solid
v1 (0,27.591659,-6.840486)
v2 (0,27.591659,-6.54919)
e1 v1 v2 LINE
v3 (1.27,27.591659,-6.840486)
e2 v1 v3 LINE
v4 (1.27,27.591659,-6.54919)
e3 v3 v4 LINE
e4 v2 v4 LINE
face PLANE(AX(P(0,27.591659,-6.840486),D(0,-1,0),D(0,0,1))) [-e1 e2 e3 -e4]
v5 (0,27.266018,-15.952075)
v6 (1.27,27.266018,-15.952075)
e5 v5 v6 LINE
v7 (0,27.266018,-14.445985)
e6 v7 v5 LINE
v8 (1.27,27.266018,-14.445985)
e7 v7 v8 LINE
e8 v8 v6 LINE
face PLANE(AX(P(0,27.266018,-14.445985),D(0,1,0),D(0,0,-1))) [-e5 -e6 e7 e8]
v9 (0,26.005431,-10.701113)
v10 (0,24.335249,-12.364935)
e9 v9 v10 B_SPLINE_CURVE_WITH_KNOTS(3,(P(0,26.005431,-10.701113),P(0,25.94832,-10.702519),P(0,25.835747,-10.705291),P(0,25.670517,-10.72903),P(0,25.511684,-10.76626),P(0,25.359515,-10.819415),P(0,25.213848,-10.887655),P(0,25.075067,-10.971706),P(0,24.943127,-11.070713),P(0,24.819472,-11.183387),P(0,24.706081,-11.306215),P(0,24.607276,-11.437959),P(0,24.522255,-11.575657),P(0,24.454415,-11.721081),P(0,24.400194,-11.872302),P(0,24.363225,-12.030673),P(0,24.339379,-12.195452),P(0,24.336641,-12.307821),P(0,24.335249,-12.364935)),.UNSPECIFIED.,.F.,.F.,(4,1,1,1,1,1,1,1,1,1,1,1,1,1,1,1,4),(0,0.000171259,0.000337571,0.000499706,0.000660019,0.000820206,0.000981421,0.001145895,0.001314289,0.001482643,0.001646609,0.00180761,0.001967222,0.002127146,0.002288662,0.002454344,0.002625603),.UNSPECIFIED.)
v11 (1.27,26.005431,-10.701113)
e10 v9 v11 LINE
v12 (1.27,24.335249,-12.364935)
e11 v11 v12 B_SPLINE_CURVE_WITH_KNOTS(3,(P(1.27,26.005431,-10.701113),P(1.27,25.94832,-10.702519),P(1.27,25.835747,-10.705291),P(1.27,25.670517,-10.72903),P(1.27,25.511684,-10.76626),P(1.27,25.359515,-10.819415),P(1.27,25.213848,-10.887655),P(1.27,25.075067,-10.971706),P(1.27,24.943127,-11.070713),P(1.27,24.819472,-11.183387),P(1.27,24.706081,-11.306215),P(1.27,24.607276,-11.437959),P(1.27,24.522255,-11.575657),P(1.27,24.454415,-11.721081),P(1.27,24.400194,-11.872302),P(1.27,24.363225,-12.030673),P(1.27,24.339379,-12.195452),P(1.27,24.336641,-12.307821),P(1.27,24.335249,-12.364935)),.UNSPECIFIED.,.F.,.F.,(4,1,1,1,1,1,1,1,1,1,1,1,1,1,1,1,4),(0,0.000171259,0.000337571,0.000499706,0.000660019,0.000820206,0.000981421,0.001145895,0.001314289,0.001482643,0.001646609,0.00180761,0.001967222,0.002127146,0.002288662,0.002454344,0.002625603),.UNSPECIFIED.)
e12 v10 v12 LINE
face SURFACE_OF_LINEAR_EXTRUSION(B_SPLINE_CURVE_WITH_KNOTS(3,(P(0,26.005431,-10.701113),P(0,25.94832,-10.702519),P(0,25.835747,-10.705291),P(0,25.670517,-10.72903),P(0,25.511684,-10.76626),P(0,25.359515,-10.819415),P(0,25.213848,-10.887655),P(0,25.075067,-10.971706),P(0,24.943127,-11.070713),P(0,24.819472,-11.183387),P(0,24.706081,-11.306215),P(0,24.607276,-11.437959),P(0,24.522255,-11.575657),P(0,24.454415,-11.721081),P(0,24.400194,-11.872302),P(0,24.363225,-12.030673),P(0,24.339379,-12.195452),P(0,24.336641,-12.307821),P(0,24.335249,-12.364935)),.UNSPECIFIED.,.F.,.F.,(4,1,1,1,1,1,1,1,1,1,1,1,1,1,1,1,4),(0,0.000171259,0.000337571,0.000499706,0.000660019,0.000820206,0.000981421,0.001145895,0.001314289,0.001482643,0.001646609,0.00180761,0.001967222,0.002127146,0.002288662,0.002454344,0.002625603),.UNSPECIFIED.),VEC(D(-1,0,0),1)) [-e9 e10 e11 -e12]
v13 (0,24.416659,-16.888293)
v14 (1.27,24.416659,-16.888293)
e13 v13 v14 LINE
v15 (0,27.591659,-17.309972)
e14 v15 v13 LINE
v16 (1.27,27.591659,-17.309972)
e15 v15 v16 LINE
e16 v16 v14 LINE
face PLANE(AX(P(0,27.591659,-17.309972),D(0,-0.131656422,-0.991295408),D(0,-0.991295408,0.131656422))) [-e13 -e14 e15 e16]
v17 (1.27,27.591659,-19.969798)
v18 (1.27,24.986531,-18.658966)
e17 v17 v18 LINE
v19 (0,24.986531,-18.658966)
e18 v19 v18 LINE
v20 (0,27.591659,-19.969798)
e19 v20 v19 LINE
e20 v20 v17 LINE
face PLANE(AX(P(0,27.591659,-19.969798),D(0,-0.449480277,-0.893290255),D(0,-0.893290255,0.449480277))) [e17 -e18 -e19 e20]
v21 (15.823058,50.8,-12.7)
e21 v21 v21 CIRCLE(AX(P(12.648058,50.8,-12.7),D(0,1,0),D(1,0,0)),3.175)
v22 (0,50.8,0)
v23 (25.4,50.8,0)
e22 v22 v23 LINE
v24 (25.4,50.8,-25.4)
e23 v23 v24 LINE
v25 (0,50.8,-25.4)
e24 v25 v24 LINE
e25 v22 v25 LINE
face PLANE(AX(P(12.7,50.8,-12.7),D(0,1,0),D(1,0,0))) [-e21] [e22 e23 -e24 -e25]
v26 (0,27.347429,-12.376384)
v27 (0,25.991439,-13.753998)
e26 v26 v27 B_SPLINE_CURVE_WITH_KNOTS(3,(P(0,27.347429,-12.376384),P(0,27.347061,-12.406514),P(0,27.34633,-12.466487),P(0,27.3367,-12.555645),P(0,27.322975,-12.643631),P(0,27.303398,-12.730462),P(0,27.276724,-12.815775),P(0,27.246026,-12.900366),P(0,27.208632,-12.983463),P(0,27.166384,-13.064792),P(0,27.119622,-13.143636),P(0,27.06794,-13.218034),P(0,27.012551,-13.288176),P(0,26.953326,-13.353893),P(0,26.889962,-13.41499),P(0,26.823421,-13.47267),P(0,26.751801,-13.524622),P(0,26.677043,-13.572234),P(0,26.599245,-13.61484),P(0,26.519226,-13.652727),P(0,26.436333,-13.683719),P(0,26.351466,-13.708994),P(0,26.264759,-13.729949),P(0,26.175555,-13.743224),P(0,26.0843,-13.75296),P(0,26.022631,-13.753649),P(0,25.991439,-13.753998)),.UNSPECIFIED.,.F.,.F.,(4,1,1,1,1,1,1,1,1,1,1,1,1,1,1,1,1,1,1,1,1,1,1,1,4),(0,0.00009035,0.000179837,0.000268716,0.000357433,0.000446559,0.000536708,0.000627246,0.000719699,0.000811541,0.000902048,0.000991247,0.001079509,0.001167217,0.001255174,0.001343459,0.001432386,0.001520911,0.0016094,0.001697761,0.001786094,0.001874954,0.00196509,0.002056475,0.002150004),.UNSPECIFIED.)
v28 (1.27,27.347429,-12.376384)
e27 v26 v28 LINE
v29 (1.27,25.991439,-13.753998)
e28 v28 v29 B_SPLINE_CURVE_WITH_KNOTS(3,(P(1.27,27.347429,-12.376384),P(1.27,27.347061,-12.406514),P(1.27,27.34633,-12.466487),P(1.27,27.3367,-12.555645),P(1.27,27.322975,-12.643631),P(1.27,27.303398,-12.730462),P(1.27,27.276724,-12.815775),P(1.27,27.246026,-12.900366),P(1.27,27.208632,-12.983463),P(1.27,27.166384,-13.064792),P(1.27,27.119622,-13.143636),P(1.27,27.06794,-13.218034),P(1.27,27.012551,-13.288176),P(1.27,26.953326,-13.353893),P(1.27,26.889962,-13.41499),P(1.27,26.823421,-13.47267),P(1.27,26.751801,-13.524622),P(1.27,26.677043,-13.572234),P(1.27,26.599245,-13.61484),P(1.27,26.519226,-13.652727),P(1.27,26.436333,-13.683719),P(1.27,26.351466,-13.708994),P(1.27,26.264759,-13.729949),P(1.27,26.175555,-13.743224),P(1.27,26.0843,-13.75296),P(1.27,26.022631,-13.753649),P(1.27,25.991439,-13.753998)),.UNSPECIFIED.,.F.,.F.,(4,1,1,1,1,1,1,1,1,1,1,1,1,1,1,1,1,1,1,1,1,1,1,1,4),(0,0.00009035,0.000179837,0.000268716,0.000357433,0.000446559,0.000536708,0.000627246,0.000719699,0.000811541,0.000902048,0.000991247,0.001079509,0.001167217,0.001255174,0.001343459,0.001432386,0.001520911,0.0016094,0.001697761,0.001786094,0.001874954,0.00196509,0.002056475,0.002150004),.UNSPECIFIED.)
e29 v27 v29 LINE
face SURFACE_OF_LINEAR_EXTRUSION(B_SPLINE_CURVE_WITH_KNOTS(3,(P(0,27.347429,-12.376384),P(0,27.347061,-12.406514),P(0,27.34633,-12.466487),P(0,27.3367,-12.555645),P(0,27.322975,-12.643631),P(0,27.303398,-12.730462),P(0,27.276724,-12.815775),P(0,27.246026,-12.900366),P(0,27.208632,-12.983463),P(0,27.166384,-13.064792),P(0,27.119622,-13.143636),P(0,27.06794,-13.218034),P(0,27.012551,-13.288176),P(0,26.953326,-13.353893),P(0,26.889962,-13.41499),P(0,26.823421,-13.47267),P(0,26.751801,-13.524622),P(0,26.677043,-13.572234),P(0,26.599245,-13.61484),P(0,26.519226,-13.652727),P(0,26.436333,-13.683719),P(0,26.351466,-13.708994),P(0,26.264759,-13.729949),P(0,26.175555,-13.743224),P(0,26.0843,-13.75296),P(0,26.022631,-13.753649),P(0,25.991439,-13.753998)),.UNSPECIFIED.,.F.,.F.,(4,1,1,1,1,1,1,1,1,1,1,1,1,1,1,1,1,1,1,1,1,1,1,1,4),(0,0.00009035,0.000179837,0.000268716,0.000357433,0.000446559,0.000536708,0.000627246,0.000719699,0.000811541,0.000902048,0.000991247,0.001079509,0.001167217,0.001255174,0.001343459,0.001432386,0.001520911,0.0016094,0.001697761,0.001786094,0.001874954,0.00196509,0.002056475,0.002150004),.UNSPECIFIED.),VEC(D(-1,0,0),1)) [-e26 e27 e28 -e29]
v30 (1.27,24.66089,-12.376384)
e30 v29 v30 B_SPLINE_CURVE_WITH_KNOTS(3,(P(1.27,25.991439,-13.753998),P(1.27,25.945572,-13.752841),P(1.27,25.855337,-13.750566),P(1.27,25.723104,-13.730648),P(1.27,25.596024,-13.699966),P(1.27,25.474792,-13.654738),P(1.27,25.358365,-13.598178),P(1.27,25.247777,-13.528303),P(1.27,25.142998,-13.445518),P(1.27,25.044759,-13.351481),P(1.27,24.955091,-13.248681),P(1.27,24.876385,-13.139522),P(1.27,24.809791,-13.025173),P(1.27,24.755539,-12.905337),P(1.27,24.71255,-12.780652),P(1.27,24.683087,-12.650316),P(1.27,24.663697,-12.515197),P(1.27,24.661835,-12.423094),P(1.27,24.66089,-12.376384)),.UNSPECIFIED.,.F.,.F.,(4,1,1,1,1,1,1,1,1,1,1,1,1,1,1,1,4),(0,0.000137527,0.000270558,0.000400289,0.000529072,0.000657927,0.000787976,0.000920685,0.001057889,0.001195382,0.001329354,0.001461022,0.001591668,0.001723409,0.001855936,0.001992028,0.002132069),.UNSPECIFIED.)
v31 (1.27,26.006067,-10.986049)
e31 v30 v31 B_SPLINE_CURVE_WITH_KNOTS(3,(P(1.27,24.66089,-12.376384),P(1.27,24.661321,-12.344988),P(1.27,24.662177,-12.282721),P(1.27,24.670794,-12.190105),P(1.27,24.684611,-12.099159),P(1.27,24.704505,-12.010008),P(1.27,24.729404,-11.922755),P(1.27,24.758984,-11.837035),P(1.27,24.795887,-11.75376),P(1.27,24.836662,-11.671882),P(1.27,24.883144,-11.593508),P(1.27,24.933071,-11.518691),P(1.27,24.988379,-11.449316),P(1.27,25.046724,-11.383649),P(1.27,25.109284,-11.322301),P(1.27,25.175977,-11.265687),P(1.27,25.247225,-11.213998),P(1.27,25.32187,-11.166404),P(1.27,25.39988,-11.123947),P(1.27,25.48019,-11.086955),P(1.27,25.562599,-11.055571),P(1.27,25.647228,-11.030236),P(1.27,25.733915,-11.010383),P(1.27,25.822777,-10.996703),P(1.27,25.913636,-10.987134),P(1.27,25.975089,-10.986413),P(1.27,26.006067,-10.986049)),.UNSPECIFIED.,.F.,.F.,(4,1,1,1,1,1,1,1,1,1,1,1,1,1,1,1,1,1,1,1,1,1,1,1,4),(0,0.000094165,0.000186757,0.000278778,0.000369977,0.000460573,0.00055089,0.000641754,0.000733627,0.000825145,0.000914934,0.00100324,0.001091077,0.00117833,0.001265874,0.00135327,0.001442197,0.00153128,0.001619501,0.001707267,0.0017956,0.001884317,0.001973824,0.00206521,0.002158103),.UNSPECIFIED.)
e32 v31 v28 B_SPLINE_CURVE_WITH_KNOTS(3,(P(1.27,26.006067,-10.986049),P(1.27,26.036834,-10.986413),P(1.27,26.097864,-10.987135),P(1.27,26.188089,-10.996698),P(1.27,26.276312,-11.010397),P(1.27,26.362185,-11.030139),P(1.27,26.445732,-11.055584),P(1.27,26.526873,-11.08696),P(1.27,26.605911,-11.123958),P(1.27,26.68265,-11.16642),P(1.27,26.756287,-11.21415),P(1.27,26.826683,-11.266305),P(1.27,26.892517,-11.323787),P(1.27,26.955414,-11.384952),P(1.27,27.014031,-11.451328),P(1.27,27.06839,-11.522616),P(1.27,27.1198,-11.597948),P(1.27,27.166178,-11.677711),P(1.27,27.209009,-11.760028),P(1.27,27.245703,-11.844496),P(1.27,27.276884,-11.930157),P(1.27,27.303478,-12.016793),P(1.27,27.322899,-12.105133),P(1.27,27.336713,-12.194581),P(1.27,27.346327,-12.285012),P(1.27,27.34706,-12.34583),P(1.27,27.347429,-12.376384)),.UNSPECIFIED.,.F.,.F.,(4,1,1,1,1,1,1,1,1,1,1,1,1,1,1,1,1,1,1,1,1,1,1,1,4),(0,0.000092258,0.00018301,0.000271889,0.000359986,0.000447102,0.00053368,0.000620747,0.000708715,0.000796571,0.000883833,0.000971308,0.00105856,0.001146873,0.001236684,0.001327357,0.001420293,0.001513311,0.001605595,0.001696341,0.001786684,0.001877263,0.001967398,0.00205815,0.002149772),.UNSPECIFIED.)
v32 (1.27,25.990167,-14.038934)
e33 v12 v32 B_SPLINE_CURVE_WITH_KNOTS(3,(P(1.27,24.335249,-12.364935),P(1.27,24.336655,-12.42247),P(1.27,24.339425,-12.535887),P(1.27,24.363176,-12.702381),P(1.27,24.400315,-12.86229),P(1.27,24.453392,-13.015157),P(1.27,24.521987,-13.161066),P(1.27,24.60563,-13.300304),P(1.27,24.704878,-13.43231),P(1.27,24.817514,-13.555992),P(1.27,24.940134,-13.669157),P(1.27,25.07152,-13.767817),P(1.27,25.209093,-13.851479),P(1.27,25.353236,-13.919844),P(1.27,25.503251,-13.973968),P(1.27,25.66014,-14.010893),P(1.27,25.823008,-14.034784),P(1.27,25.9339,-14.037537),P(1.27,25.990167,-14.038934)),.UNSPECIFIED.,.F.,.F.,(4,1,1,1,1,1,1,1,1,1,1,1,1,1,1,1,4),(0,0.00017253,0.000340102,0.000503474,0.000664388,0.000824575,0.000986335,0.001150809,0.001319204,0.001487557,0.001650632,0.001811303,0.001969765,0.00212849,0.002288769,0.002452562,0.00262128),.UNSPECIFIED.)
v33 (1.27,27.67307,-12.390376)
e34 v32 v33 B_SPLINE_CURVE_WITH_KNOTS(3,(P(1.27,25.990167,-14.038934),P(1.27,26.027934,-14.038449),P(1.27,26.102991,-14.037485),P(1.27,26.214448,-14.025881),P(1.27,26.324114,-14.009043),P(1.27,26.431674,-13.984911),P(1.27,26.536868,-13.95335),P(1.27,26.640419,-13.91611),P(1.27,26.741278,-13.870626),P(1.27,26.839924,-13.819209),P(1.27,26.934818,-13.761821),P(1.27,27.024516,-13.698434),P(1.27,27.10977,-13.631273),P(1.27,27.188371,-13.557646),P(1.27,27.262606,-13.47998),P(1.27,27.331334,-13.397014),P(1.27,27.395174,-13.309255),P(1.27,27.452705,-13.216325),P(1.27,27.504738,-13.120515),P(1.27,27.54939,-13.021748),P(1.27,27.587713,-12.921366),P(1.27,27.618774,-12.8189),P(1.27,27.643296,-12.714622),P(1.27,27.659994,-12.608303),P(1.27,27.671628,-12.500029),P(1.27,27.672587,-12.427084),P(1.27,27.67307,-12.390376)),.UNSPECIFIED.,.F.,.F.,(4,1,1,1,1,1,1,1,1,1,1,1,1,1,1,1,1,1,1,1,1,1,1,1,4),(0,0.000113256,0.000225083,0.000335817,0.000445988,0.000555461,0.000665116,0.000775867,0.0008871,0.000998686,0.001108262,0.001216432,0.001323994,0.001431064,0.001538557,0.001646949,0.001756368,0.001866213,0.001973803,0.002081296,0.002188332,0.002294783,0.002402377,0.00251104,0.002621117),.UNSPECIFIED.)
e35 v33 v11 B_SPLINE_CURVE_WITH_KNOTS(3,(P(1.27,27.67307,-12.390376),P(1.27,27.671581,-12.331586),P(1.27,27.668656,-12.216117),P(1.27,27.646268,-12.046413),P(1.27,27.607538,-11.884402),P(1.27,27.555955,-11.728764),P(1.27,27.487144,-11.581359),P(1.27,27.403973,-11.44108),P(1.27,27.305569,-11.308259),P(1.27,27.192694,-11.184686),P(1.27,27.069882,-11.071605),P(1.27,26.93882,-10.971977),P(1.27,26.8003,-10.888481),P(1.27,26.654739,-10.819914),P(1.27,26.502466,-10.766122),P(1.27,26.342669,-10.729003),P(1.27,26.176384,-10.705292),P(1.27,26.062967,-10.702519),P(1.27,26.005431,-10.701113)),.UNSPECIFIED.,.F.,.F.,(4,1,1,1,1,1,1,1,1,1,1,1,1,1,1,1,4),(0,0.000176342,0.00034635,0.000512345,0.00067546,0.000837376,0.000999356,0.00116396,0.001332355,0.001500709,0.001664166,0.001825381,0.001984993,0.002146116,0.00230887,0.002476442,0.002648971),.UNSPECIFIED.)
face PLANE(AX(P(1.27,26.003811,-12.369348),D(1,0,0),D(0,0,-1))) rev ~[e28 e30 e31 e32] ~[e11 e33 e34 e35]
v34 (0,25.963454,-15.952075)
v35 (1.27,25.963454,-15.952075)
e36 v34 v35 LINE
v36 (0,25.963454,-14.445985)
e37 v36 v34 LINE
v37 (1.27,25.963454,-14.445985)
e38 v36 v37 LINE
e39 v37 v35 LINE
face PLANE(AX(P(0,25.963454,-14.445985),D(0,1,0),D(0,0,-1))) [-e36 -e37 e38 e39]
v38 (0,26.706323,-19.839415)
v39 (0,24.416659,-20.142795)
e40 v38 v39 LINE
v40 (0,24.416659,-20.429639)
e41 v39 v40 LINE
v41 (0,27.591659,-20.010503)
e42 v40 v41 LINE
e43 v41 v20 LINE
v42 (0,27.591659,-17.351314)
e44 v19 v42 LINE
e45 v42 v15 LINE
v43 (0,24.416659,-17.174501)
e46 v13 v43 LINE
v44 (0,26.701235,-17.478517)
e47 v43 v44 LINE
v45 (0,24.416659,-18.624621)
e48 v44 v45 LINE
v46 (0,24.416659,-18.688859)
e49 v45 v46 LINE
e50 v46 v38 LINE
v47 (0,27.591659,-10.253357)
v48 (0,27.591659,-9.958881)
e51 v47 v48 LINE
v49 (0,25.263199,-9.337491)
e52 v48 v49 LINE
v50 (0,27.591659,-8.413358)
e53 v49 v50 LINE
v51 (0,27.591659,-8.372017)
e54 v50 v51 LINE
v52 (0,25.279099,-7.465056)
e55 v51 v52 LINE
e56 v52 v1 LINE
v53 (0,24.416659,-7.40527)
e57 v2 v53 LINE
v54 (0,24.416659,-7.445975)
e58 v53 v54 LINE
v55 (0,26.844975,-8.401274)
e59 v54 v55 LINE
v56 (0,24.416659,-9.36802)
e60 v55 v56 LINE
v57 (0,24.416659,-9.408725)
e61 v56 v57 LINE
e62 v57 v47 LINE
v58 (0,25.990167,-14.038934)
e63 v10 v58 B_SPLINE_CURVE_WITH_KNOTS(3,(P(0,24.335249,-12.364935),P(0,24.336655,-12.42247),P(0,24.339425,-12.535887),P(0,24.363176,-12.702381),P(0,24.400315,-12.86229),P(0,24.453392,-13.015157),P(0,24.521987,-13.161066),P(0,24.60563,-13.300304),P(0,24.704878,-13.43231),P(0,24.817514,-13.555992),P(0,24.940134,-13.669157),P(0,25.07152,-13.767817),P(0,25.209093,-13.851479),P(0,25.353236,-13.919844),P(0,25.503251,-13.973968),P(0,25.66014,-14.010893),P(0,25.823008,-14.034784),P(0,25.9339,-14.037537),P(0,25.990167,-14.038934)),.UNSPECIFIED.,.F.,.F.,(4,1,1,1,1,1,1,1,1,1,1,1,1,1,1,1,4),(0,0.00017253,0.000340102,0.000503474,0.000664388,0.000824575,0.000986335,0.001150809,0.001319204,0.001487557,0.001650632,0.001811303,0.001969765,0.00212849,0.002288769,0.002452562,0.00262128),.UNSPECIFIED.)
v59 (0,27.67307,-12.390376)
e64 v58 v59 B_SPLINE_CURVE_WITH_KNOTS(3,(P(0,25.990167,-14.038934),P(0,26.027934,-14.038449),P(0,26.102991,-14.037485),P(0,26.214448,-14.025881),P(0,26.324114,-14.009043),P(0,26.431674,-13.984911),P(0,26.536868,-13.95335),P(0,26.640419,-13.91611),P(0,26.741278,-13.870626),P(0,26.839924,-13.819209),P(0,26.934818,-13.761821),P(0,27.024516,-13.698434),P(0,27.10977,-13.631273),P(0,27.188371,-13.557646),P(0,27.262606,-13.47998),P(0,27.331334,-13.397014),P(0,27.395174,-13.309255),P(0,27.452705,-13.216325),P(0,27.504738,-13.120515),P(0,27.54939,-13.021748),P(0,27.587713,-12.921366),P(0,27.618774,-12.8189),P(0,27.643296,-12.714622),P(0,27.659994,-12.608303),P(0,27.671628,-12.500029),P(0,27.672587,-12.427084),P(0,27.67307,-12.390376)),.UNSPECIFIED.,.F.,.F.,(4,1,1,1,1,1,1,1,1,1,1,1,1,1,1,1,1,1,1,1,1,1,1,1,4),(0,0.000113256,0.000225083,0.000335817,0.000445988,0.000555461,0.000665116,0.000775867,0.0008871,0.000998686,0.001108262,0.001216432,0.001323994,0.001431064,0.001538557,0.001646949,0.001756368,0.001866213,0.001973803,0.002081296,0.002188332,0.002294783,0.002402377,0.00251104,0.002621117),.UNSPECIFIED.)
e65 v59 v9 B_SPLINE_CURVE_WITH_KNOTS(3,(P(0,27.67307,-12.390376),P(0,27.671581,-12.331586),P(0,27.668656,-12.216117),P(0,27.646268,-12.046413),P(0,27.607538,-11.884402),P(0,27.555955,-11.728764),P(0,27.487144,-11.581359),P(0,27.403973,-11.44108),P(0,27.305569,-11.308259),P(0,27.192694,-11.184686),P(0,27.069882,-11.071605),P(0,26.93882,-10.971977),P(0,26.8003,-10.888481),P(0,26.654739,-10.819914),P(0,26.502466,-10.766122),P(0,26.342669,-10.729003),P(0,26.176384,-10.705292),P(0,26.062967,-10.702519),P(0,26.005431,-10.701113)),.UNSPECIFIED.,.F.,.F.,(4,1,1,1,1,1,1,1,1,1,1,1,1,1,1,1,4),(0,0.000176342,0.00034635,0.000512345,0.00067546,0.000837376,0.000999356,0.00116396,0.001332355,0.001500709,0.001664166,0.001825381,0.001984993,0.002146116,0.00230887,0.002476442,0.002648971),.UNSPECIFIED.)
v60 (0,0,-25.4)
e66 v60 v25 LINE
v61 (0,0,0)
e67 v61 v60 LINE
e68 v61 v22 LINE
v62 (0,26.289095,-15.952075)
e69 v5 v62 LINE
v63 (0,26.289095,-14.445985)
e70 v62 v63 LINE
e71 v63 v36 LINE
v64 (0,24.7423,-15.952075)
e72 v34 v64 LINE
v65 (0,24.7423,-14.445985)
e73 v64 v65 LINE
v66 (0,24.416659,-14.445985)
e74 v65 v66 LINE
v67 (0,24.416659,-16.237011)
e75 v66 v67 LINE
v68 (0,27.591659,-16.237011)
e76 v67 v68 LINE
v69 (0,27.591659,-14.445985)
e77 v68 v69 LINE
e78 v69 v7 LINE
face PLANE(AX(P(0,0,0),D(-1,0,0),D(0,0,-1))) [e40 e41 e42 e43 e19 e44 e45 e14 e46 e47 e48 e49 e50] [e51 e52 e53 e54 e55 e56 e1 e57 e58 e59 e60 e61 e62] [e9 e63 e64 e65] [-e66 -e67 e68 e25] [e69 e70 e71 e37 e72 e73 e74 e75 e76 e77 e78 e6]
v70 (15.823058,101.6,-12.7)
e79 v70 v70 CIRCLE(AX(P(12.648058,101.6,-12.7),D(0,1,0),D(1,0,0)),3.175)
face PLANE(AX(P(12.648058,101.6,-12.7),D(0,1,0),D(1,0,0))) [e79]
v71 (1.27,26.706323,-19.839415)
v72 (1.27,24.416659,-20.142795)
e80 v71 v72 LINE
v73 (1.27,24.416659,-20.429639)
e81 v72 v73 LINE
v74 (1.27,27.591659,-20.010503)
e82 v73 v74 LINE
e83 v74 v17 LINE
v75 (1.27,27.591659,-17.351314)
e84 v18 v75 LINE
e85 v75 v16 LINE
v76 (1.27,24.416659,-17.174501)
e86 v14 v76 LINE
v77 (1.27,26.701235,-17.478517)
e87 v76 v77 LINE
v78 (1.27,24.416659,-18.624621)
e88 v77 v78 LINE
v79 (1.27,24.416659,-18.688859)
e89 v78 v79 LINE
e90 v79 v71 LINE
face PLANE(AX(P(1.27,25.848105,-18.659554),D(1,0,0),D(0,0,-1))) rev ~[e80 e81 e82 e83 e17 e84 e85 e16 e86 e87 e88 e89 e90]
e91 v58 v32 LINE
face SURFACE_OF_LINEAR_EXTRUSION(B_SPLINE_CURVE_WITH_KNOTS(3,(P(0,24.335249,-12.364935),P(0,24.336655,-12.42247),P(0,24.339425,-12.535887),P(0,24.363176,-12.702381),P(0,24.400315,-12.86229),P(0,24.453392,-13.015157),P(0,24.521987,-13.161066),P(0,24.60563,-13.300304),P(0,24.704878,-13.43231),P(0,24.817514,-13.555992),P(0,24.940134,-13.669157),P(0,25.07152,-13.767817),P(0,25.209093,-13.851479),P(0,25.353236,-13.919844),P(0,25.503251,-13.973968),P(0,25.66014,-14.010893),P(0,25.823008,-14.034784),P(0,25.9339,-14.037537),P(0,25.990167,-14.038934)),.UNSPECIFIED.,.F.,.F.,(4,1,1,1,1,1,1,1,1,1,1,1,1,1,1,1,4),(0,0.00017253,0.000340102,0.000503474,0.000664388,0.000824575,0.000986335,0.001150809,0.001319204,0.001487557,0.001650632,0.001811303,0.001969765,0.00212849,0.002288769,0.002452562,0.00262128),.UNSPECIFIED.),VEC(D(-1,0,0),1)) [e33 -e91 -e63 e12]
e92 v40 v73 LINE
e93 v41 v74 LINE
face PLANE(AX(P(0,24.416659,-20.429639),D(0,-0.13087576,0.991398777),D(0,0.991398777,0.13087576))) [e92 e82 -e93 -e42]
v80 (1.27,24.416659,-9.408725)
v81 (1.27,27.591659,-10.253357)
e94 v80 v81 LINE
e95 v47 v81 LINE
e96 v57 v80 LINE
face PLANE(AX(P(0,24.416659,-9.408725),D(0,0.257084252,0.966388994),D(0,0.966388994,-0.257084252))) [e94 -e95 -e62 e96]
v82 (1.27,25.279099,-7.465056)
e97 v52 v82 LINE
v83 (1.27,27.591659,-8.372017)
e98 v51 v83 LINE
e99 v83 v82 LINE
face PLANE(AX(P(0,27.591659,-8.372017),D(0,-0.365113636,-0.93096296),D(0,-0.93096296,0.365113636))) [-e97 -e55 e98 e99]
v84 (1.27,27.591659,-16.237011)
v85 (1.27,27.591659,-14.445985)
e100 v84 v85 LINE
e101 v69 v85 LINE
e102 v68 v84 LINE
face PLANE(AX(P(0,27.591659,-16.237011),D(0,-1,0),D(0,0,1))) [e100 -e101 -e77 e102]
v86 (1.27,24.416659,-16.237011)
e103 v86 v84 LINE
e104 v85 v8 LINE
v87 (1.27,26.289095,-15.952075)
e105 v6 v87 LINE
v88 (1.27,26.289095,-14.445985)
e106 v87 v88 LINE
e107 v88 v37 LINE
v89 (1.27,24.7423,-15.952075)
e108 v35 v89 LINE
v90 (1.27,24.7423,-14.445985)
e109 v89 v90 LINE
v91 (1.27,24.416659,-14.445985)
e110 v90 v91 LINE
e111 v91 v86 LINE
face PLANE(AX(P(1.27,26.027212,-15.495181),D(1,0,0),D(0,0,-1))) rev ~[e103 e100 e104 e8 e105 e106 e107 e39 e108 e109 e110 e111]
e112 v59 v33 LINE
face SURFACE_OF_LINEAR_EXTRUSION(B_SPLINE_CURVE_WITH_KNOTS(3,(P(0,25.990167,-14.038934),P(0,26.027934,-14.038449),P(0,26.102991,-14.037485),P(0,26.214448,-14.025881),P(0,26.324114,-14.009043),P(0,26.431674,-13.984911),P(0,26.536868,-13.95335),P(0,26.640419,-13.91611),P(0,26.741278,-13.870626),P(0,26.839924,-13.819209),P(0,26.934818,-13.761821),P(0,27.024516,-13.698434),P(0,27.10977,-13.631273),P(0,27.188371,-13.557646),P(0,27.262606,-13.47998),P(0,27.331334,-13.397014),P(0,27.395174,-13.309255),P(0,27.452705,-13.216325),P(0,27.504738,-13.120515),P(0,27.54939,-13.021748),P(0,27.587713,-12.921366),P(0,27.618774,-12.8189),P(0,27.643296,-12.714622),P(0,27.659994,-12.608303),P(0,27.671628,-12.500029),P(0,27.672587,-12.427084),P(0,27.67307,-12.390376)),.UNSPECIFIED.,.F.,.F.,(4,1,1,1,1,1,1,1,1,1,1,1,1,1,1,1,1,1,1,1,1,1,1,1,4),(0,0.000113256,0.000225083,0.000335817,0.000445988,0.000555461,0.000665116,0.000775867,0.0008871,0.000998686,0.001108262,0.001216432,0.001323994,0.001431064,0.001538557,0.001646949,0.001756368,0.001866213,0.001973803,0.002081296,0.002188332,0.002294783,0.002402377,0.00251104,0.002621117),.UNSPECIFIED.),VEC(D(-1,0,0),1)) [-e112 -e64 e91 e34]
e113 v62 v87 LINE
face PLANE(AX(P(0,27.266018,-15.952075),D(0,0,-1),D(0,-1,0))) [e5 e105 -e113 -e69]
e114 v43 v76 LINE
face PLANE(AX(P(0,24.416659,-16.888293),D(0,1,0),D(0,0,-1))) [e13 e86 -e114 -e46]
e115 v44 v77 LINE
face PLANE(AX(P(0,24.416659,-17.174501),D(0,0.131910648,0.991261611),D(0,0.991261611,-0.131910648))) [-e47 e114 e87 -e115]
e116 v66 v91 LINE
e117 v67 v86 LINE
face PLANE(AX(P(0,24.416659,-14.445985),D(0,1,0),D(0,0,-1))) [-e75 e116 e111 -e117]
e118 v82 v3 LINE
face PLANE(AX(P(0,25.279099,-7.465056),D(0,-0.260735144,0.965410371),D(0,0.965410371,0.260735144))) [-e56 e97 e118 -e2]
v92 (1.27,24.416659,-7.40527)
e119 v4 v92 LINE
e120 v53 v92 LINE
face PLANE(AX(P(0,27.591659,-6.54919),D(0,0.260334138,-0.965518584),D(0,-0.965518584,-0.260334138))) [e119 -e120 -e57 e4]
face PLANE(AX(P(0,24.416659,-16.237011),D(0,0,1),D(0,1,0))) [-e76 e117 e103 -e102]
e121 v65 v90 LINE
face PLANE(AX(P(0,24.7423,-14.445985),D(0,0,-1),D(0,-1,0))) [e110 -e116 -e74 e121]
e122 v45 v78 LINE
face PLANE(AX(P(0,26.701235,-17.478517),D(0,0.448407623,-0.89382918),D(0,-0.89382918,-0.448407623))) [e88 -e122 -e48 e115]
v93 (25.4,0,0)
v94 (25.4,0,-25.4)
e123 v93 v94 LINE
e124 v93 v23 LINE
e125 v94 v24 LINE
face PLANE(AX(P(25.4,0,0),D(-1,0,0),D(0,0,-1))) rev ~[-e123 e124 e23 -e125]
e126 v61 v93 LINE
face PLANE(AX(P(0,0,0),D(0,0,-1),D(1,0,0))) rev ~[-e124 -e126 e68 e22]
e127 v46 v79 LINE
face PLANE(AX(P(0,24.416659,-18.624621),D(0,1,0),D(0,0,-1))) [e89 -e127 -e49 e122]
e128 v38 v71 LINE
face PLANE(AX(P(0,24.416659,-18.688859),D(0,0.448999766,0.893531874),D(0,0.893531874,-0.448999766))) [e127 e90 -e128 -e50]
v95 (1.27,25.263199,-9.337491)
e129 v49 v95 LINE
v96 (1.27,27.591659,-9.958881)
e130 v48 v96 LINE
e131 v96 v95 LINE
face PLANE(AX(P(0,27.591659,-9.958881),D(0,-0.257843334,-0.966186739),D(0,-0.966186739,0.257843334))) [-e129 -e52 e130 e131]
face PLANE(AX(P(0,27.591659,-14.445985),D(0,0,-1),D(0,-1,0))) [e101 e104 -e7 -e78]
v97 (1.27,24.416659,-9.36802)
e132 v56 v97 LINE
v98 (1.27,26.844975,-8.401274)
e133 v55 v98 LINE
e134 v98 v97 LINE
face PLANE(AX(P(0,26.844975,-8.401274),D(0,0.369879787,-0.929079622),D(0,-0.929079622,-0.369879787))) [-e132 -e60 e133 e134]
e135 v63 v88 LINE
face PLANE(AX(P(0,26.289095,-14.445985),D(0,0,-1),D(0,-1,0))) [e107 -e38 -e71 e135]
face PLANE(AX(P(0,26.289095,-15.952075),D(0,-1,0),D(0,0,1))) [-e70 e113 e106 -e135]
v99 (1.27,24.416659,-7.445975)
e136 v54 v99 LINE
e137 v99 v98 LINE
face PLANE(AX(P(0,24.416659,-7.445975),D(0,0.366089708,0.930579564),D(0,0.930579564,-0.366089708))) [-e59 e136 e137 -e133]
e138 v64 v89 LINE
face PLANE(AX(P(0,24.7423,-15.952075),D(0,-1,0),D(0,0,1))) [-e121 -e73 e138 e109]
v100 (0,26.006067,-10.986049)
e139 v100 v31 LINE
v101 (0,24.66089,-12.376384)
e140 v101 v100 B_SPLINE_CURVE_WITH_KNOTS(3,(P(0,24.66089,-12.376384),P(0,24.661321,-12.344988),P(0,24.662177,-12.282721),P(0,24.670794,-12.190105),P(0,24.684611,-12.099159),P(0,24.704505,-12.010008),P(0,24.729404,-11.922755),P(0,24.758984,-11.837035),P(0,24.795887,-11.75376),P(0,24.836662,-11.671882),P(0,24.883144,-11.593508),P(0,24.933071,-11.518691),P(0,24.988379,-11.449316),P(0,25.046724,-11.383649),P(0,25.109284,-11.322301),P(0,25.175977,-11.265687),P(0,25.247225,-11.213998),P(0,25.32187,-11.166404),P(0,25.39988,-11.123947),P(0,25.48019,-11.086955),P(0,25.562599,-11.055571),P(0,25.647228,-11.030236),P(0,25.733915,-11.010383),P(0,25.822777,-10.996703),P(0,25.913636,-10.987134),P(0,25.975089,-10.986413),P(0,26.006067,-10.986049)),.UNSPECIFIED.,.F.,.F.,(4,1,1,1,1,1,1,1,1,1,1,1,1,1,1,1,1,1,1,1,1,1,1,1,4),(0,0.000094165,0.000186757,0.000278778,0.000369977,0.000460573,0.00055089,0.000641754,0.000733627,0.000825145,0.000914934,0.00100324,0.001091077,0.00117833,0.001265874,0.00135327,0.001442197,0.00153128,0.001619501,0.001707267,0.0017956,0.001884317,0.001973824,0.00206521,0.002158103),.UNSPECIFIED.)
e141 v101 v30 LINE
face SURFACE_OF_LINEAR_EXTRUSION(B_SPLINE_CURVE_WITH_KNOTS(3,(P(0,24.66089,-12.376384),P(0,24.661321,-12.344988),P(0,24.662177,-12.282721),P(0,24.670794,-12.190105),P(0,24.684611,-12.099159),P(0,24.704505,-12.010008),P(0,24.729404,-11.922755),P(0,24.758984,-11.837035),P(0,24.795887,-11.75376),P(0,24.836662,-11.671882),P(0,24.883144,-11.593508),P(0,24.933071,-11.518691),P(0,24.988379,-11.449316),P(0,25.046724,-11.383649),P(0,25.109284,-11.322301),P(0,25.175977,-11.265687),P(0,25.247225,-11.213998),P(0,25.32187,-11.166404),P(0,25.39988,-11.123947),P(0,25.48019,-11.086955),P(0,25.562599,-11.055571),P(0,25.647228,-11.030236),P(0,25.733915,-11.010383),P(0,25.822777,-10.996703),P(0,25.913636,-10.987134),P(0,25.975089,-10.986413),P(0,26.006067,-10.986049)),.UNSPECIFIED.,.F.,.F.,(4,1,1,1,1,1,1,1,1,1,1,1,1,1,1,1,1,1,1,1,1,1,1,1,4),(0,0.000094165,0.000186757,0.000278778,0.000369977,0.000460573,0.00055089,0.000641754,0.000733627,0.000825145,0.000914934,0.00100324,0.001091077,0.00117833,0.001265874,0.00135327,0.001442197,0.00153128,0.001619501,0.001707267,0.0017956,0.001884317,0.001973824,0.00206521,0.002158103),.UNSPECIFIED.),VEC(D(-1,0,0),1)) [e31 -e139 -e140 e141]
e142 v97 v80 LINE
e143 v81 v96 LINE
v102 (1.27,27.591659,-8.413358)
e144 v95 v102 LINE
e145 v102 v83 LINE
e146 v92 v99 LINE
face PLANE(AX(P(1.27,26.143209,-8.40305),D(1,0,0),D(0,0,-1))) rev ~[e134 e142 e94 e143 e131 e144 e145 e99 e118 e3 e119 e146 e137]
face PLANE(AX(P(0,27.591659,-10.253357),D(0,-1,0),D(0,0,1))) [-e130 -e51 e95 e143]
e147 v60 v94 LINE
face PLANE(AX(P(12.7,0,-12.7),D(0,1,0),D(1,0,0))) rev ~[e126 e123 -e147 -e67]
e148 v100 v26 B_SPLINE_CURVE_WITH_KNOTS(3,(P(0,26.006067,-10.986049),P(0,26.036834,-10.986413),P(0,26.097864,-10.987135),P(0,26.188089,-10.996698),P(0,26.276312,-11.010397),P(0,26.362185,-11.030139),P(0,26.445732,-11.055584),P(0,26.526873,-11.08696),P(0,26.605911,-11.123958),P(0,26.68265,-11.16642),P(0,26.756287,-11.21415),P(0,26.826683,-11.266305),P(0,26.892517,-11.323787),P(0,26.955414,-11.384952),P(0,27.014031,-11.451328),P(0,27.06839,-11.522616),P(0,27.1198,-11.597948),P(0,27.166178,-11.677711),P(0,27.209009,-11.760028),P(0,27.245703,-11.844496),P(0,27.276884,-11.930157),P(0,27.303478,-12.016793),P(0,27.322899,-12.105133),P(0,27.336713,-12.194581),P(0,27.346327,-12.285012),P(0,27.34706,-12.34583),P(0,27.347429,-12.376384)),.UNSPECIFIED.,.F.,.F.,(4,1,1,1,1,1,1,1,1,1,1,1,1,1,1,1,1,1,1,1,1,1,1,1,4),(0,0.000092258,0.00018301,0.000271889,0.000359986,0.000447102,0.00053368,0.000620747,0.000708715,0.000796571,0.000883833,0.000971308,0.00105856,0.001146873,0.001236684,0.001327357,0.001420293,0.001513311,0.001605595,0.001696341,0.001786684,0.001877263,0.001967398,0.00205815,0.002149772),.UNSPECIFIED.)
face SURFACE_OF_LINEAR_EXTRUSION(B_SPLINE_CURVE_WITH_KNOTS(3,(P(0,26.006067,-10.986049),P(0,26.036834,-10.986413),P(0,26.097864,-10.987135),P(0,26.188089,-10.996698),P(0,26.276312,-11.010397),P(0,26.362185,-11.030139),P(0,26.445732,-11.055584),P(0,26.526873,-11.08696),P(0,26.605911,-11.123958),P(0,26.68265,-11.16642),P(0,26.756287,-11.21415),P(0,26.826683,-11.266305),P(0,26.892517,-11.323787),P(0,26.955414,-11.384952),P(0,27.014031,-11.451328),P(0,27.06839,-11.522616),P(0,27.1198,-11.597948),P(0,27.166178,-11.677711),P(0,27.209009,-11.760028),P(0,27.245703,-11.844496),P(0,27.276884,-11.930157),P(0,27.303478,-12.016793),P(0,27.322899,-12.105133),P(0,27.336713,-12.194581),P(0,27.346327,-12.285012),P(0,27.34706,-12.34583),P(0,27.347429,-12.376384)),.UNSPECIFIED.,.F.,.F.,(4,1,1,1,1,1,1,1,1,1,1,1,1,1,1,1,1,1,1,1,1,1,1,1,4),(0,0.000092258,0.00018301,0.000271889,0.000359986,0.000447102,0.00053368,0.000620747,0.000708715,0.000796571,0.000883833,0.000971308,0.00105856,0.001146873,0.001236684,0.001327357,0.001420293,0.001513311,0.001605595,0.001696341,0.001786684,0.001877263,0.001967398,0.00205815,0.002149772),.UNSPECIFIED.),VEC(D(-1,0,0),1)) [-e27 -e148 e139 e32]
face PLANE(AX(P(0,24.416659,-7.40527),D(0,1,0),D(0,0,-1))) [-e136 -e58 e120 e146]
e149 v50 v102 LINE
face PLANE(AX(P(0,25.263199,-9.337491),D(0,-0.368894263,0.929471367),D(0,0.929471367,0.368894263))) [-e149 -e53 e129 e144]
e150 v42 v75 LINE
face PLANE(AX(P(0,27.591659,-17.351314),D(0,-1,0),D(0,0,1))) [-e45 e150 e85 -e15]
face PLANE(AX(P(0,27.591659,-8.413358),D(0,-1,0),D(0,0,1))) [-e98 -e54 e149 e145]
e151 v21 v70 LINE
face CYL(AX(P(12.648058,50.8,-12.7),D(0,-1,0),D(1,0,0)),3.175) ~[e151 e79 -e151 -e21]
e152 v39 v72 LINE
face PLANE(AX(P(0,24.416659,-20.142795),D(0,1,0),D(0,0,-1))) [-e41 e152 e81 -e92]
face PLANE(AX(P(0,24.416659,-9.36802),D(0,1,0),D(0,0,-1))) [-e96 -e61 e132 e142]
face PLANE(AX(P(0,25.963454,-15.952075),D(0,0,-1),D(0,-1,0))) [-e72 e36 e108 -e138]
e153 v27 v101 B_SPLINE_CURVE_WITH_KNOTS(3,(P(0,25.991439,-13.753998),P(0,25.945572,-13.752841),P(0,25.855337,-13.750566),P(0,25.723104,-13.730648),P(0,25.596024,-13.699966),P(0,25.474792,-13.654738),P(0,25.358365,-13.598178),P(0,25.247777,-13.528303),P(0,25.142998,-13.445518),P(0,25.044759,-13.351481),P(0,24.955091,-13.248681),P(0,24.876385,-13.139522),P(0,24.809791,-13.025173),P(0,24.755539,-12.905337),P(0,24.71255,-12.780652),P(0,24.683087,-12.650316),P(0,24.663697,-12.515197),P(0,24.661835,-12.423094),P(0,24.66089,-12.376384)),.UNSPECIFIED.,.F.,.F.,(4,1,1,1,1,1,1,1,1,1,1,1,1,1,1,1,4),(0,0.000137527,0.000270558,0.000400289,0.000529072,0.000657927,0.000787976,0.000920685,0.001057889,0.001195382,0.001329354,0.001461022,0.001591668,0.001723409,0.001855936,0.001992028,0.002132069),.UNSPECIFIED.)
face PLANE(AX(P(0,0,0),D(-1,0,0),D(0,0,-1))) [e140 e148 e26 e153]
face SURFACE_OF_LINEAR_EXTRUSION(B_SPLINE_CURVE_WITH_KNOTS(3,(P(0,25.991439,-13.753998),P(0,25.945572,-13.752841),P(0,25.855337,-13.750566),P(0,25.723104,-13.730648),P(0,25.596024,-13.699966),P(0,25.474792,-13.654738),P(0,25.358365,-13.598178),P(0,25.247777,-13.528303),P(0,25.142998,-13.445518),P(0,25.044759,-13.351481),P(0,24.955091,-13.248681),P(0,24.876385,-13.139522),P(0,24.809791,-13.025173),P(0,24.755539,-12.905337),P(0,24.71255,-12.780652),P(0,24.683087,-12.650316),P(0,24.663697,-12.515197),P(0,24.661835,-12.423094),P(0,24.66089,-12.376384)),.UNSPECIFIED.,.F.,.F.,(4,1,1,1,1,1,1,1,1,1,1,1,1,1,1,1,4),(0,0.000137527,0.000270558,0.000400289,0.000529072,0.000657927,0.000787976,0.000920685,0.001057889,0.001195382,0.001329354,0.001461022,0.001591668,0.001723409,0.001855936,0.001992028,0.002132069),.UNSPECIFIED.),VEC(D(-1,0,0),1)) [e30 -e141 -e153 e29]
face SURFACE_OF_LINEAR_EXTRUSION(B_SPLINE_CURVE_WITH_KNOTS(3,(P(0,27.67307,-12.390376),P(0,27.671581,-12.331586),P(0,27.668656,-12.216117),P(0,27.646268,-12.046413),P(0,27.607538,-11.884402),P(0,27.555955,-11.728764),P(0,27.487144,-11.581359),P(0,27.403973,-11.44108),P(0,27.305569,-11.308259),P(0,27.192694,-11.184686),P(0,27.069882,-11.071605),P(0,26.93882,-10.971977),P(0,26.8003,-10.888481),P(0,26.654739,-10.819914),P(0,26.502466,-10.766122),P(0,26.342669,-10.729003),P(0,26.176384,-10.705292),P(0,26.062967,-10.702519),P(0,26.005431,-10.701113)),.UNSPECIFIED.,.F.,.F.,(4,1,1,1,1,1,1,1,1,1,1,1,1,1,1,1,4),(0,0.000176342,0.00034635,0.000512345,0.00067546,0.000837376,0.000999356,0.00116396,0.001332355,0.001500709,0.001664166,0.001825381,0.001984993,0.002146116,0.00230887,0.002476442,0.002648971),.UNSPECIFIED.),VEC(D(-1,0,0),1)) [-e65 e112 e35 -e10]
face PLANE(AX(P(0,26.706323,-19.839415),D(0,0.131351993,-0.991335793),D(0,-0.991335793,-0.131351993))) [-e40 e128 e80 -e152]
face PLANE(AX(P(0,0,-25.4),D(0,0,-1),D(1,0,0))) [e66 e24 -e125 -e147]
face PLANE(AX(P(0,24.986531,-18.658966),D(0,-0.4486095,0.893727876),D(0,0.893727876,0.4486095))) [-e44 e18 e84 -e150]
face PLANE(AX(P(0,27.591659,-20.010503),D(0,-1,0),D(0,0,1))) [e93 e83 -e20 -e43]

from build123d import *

# Parameters (mm, degrees)
SKETCH1_W           = 25.4
SKETCH1_H           = 25.4
BOSS_EXTRUDE1_DEPTH = 50.8
SKETCH2_R           = 3.175
BOSS_EXTRUDE2_DEPTH = 50.8
CUT_EXTRUDE1_DEPTH  = 1.27


with BuildPart() as part:
    # Sketch1 → Boss-Extrude1 (new body)
    with BuildSketch(Plane(origin=(0, 0, 0), x_dir=(1, 0, 0), z_dir=(0, 1, 0))):
        with Locations((12.7, 12.7)):
            Rectangle(SKETCH1_W, SKETCH1_H)
    extrude(amount=BOSS_EXTRUDE1_DEPTH)

    # Sketch2 → Boss-Extrude2 (add)
    with BuildSketch(Plane(origin=(0, 50.8, 0), x_dir=(1, 0, 0), z_dir=(0, 1, 0))):
        with Locations((12.648058093, 12.7)):
            Circle(SKETCH2_R)
    extrude(amount=BOSS_EXTRUDE2_DEPTH)

    # Sketch3 → Cut-Extrude1 (cut)
    with BuildSketch(Plane.ZY):
        Polygon((-20.429638912, 24.416659376), (-20.010503295, 27.591659376), (-19.969798167, 27.591659376), (-18.658965835, 24.986531171), (-17.351313592, 27.591659376), (-17.309972446, 27.591659376), (-16.888292758, 24.416659376), (-17.174500691, 24.416659376), (-17.478517117, 26.701234697), (-18.624620883, 24.416659376), (-18.688858664, 24.416659376), (-19.839414553, 26.706322838), (-20.142794962, 24.416659376), align=None)
        Polygon((-16.237010707, 27.591659376), (-14.445985066, 27.591659376), (-14.445985066, 27.26601835), (-15.95207481, 27.26601835), (-15.95207481, 26.289095273), (-14.445985066, 26.289095273), (-14.445985066, 25.963454248), (-15.95207481, 25.963454248), (-15.95207481, 24.742300402), (-14.445985066, 24.742300402), (-14.445985066, 24.416659376), (-16.237010707, 24.416659376), align=None)
        with BuildLine():
            add(Edge.make_bspline(
                [(-12.390376092, 27.673069632), (-12.331585881, 27.671580576), (-12.216117058, 27.668655947), (-12.046413401, 27.646268474), (-11.884402136, 27.607537656), (-11.72876351, 27.555954808), (-11.581359167, 27.487144044), (-11.4410796, 27.403972516), (-11.308258579, 27.305568872), (-11.184686325, 27.192693787), (-11.071604663, 27.069881654), (-10.971976895, 26.93881955), (-10.888481386, 26.800299922), (-10.819914279, 26.654739026), (-10.766121969, 26.502466055), (-10.72900255, 26.34266921), (-10.705291514, 26.176383855), (-10.702519488, 26.062966628), (-10.701113271, 26.005431411)],
                knots=[0, 0, 0, 0, 0.000176342, 0.00034635, 0.000512345, 0.00067546, 0.000837376, 0.000999356, 0.00116396, 0.001332355, 0.001500709, 0.001664166, 0.001825381, 0.001984993, 0.002146116, 0.00230887, 0.002476442, 0.002648971, 0.002648971, 0.002648971, 0.002648971], degree=3))
            add(Edge.make_bspline(
                [(-10.701113271, 26.005431411), (-10.702519281, 25.948320013), (-10.70529069, 25.835746832), (-10.72902951, 25.670516708), (-10.76625956, 25.511684433), (-10.819414744, 25.359515162), (-10.887655, 25.213848372), (-10.971706477, 25.07506735), (-11.070713146, 24.943126598), (-11.183386504, 24.819471537), (-11.306214592, 24.706080975), (-11.437959191, 24.607275994), (-11.575657417, 24.522254824), (-11.721081224, 24.454415349), (-11.872301972, 24.400193678), (-12.030673079, 24.363225221), (-12.195452453, 24.339379117), (-12.307821149, 24.336640892), (-12.364935387, 24.33524912)],
                knots=[0, 0, 0, 0, 0.000171259, 0.000337571, 0.000499706, 0.000660019, 0.000820206, 0.000981421, 0.001145895, 0.001314289, 0.001482643, 0.001646609, 0.00180761, 0.001967222, 0.002127146, 0.002288662, 0.002454344, 0.002625603, 0.002625603, 0.002625603, 0.002625603], degree=3))
            add(Edge.make_bspline(
                [(-12.364935387, 24.33524912), (-12.422470305, 24.336654635), (-12.535886943, 24.339425279), (-12.702381254, 24.363175554), (-12.86229035, 24.400315165), (-13.01515694, 24.453391582), (-13.161066269, 24.521987213), (-13.300303701, 24.605629757), (-13.432310356, 24.704877663), (-13.555991798, 24.817514485), (-13.669157142, 24.940134393), (-13.767817433, 25.071519753), (-13.851478785, 25.209092917), (-13.919844094, 25.353235671), (-13.973968282, 25.503251194), (-14.010893367, 25.66014017), (-14.034783838, 25.82300815), (-14.037536877, 25.933899922), (-14.038933784, 25.990166988)],
                knots=[0, 0, 0, 0, 0.00017253, 0.000340102, 0.000503474, 0.000664388, 0.000824575, 0.000986335, 0.001150809, 0.001319204, 0.001487557, 0.001650632, 0.001811303, 0.001969765, 0.00212849, 0.002288769, 0.002452562, 0.00262128, 0.00262128, 0.00262128, 0.00262128], degree=3))
            add(Edge.make_bspline(
                [(-14.038933784, 25.990166988), (-14.038448793, 26.027933767), (-14.03748493, 26.102990879), (-14.025881038, 26.214448437), (-14.009042923, 26.324113534), (-13.984911188, 26.431674323), (-13.953350176, 26.536867502), (-13.916110122, 26.640418551), (-13.87062612, 26.741278072), (-13.819208675, 26.839923863), (-13.761821178, 26.934818177), (-13.698433891, 27.024516085), (-13.631273235, 27.109770275), (-13.557646442, 27.188371485), (-13.479980095, 27.262606302), (-13.397014281, 27.33133391), (-13.309255245, 27.395174044), (-13.216325372, 27.452705353), (-13.120514508, 27.504738282), (-13.021747717, 27.549389533), (-12.921366399, 27.587712746), (-12.818900396, 27.618774066), (-12.71462181, 27.643295984), (-12.608303049, 27.659994084), (-12.500028812, 27.671627572), (-12.427084258, 27.672586878), (-12.390376092, 27.673069632)],
                knots=[0, 0, 0, 0, 0.000113256, 0.000225083, 0.000335817, 0.000445988, 0.000555461, 0.000665116, 0.000775867, 0.0008871, 0.000998686, 0.001108262, 0.001216432, 0.001323994, 0.001431064, 0.001538557, 0.001646949, 0.001756368, 0.001866213, 0.001973803, 0.002081296, 0.002188332, 0.002294783, 0.002402377, 0.00251104, 0.002621117, 0.002621117, 0.002621117, 0.002621117], degree=3))
        make_face()
        with BuildLine():
            add(Edge.make_bspline(
                [(-12.376383704, 27.347428607), (-12.406514122, 27.347061313), (-12.466486908, 27.346330238), (-12.555645023, 27.336700268), (-12.643630563, 27.322975297), (-12.730461698, 27.303397775), (-12.815775118, 27.276724098), (-12.900366045, 27.24602556), (-12.983463101, 27.208632142), (-13.064791958, 27.166384046), (-13.143636348, 27.119621811), (-13.218033584, 27.067940279), (-13.288176268, 27.012551448), (-13.35389266, 26.953326052), (-13.414989795, 26.889962485), (-13.472670203, 26.823421347), (-13.524621895, 26.751800703), (-13.572233811, 26.677042691), (-13.614840352, 26.599244685), (-13.652727495, 26.519225738), (-13.683719131, 26.436333123), (-13.708994287, 26.351466137), (-13.729949115, 26.264759191), (-13.743224175, 26.175554528), (-13.752959958, 26.084300391), (-13.753649247, 26.022631138), (-13.753997887, 25.991439023)],
                knots=[0, 0, 0, 0, 9.035e-05, 0.000179837, 0.000268716, 0.000357433, 0.000446559, 0.000536708, 0.000627246, 0.000719699, 0.000811541, 0.000902048, 0.000991247, 0.001079509, 0.001167217, 0.001255174, 0.001343459, 0.001432386, 0.001520911, 0.0016094, 0.001697761, 0.001786094, 0.001874954, 0.00196509, 0.002056475, 0.002150004, 0.002150004, 0.002150004, 0.002150004], degree=3))
            add(Edge.make_bspline(
                [(-13.753997887, 25.991439023), (-13.752841405, 25.945571866), (-13.750566247, 25.855336978), (-13.730647594, 25.723104447), (-13.699966232, 25.596024359), (-13.654738478, 25.474792056), (-13.598177563, 25.358365456), (-13.52830317, 25.24777739), (-13.445518142, 25.142997968), (-13.351480514, 25.044758688), (-13.248680631, 24.955091423), (-13.139521654, 24.876384617), (-13.025173024, 24.809791033), (-12.905336548, 24.755539289), (-12.780651994, 24.712550026), (-12.65031593, 24.683087268), (-12.515196585, 24.663696677), (-12.423093776, 24.661834534), (-12.376383704, 24.660890145)],
                knots=[0, 0, 0, 0, 0.000137527, 0.000270558, 0.000400289, 0.000529072, 0.000657927, 0.000787976, 0.000920685, 0.001057889, 0.001195382, 0.001329354, 0.001461022, 0.001591668, 0.001723409, 0.001855936, 0.001992028, 0.002132069, 0.002132069, 0.002132069, 0.002132069], degree=3))
            add(Edge.make_bspline(
                [(-12.376383704, 24.660890145), (-12.344987942, 24.661321496), (-12.282720716, 24.662176993), (-12.190105492, 24.67079365), (-12.099158786, 24.684611131), (-12.01000816, 24.704505369), (-11.922754796, 24.729403906), (-11.83703451, 24.758983774), (-11.753760347, 24.795887437), (-11.67188178, 24.83666165), (-11.593508046, 24.883143793), (-11.518690956, 24.933071258), (-11.449316317, 24.988378506), (-11.383649088, 25.046723951), (-11.322301113, 25.109284013), (-11.265687249, 25.175977357), (-11.213998129, 25.247224953), (-11.166404292, 25.321869571), (-11.123947047, 25.399880457), (-11.086954578, 25.480189522), (-11.055570959, 25.562599014), (-11.030235815, 25.647227797), (-11.010382575, 25.733915138), (-10.996702934, 25.822777109), (-10.987133993, 25.913635941), (-10.986412744, 25.975089297), (-10.986049169, 26.006067429)],
                knots=[0, 0, 0, 0, 9.4165e-05, 0.000186757, 0.000278778, 0.000369977, 0.000460573, 0.00055089, 0.000641754, 0.000733627, 0.000825145, 0.000914934, 0.00100324, 0.001091077, 0.00117833, 0.001265874, 0.00135327, 0.001442197, 0.00153128, 0.001619501, 0.001707267, 0.0017956, 0.001884317, 0.001973824, 0.00206521, 0.002158103, 0.002158103, 0.002158103, 0.002158103], degree=3))
            add(Edge.make_bspline(
                [(-10.986049169, 26.006067429), (-10.986413035, 26.036833636), (-10.987134832, 26.097864076), (-10.996698363, 26.188089247), (-11.010397028, 26.276311803), (-11.030138913, 26.362185396), (-11.055584409, 26.445731915), (-11.086960059, 26.526872893), (-11.123958152, 26.605910613), (-11.166419899, 26.682649725), (-11.214149967, 26.756286809), (-11.266305459, 26.826683283), (-11.323786882, 26.892517127), (-11.384951919, 26.9554136), (-11.451328365, 27.014031257), (-11.522615546, 27.068389543), (-11.597948025, 27.119800299), (-11.677710589, 27.166178488), (-11.760028318, 27.209008542), (-11.84449598, 27.24570338), (-11.930156663, 27.276883803), (-12.016792537, 27.303478478), (-12.10513281, 27.32289862), (-12.194580569, 27.336712636), (-12.28501206, 27.346326886), (-12.345829838, 27.347060201), (-12.376383704, 27.347428607)],
                knots=[0, 0, 0, 0, 9.2258e-05, 0.00018301, 0.000271889, 0.000359986, 0.000447102, 0.00053368, 0.000620747, 0.000708715, 0.000796571, 0.000883833, 0.000971308, 0.00105856, 0.001146873, 0.001236684, 0.001327357, 0.001420293, 0.001513311, 0.001605595, 0.001696341, 0.001786684, 0.001877263, 0.001967398, 0.00205815, 0.002149772, 0.002149772, 0.002149772, 0.002149772], degree=3))
        make_face(mode=Mode.SUBTRACT)
        Polygon((-10.253356861, 27.591659376), (-9.958880699, 27.591659376), (-9.337491476, 25.263198839), (-8.413357863, 27.591659376), (-8.372016717, 27.591659376), (-7.465055579, 25.27909928), (-6.840486268, 27.591659376), (-6.549190194, 27.591659376), (-7.405269922, 24.416659376), (-7.44597505, 24.416659376), (-8.401273528, 26.84497468), (-9.368020323, 24.416659376), (-9.408725451, 24.416659376), align=None)
    extrude(amount=-CUT_EXTRUDE1_DEPTH, mode=Mode.SUBTRACT)


solid = part.part
